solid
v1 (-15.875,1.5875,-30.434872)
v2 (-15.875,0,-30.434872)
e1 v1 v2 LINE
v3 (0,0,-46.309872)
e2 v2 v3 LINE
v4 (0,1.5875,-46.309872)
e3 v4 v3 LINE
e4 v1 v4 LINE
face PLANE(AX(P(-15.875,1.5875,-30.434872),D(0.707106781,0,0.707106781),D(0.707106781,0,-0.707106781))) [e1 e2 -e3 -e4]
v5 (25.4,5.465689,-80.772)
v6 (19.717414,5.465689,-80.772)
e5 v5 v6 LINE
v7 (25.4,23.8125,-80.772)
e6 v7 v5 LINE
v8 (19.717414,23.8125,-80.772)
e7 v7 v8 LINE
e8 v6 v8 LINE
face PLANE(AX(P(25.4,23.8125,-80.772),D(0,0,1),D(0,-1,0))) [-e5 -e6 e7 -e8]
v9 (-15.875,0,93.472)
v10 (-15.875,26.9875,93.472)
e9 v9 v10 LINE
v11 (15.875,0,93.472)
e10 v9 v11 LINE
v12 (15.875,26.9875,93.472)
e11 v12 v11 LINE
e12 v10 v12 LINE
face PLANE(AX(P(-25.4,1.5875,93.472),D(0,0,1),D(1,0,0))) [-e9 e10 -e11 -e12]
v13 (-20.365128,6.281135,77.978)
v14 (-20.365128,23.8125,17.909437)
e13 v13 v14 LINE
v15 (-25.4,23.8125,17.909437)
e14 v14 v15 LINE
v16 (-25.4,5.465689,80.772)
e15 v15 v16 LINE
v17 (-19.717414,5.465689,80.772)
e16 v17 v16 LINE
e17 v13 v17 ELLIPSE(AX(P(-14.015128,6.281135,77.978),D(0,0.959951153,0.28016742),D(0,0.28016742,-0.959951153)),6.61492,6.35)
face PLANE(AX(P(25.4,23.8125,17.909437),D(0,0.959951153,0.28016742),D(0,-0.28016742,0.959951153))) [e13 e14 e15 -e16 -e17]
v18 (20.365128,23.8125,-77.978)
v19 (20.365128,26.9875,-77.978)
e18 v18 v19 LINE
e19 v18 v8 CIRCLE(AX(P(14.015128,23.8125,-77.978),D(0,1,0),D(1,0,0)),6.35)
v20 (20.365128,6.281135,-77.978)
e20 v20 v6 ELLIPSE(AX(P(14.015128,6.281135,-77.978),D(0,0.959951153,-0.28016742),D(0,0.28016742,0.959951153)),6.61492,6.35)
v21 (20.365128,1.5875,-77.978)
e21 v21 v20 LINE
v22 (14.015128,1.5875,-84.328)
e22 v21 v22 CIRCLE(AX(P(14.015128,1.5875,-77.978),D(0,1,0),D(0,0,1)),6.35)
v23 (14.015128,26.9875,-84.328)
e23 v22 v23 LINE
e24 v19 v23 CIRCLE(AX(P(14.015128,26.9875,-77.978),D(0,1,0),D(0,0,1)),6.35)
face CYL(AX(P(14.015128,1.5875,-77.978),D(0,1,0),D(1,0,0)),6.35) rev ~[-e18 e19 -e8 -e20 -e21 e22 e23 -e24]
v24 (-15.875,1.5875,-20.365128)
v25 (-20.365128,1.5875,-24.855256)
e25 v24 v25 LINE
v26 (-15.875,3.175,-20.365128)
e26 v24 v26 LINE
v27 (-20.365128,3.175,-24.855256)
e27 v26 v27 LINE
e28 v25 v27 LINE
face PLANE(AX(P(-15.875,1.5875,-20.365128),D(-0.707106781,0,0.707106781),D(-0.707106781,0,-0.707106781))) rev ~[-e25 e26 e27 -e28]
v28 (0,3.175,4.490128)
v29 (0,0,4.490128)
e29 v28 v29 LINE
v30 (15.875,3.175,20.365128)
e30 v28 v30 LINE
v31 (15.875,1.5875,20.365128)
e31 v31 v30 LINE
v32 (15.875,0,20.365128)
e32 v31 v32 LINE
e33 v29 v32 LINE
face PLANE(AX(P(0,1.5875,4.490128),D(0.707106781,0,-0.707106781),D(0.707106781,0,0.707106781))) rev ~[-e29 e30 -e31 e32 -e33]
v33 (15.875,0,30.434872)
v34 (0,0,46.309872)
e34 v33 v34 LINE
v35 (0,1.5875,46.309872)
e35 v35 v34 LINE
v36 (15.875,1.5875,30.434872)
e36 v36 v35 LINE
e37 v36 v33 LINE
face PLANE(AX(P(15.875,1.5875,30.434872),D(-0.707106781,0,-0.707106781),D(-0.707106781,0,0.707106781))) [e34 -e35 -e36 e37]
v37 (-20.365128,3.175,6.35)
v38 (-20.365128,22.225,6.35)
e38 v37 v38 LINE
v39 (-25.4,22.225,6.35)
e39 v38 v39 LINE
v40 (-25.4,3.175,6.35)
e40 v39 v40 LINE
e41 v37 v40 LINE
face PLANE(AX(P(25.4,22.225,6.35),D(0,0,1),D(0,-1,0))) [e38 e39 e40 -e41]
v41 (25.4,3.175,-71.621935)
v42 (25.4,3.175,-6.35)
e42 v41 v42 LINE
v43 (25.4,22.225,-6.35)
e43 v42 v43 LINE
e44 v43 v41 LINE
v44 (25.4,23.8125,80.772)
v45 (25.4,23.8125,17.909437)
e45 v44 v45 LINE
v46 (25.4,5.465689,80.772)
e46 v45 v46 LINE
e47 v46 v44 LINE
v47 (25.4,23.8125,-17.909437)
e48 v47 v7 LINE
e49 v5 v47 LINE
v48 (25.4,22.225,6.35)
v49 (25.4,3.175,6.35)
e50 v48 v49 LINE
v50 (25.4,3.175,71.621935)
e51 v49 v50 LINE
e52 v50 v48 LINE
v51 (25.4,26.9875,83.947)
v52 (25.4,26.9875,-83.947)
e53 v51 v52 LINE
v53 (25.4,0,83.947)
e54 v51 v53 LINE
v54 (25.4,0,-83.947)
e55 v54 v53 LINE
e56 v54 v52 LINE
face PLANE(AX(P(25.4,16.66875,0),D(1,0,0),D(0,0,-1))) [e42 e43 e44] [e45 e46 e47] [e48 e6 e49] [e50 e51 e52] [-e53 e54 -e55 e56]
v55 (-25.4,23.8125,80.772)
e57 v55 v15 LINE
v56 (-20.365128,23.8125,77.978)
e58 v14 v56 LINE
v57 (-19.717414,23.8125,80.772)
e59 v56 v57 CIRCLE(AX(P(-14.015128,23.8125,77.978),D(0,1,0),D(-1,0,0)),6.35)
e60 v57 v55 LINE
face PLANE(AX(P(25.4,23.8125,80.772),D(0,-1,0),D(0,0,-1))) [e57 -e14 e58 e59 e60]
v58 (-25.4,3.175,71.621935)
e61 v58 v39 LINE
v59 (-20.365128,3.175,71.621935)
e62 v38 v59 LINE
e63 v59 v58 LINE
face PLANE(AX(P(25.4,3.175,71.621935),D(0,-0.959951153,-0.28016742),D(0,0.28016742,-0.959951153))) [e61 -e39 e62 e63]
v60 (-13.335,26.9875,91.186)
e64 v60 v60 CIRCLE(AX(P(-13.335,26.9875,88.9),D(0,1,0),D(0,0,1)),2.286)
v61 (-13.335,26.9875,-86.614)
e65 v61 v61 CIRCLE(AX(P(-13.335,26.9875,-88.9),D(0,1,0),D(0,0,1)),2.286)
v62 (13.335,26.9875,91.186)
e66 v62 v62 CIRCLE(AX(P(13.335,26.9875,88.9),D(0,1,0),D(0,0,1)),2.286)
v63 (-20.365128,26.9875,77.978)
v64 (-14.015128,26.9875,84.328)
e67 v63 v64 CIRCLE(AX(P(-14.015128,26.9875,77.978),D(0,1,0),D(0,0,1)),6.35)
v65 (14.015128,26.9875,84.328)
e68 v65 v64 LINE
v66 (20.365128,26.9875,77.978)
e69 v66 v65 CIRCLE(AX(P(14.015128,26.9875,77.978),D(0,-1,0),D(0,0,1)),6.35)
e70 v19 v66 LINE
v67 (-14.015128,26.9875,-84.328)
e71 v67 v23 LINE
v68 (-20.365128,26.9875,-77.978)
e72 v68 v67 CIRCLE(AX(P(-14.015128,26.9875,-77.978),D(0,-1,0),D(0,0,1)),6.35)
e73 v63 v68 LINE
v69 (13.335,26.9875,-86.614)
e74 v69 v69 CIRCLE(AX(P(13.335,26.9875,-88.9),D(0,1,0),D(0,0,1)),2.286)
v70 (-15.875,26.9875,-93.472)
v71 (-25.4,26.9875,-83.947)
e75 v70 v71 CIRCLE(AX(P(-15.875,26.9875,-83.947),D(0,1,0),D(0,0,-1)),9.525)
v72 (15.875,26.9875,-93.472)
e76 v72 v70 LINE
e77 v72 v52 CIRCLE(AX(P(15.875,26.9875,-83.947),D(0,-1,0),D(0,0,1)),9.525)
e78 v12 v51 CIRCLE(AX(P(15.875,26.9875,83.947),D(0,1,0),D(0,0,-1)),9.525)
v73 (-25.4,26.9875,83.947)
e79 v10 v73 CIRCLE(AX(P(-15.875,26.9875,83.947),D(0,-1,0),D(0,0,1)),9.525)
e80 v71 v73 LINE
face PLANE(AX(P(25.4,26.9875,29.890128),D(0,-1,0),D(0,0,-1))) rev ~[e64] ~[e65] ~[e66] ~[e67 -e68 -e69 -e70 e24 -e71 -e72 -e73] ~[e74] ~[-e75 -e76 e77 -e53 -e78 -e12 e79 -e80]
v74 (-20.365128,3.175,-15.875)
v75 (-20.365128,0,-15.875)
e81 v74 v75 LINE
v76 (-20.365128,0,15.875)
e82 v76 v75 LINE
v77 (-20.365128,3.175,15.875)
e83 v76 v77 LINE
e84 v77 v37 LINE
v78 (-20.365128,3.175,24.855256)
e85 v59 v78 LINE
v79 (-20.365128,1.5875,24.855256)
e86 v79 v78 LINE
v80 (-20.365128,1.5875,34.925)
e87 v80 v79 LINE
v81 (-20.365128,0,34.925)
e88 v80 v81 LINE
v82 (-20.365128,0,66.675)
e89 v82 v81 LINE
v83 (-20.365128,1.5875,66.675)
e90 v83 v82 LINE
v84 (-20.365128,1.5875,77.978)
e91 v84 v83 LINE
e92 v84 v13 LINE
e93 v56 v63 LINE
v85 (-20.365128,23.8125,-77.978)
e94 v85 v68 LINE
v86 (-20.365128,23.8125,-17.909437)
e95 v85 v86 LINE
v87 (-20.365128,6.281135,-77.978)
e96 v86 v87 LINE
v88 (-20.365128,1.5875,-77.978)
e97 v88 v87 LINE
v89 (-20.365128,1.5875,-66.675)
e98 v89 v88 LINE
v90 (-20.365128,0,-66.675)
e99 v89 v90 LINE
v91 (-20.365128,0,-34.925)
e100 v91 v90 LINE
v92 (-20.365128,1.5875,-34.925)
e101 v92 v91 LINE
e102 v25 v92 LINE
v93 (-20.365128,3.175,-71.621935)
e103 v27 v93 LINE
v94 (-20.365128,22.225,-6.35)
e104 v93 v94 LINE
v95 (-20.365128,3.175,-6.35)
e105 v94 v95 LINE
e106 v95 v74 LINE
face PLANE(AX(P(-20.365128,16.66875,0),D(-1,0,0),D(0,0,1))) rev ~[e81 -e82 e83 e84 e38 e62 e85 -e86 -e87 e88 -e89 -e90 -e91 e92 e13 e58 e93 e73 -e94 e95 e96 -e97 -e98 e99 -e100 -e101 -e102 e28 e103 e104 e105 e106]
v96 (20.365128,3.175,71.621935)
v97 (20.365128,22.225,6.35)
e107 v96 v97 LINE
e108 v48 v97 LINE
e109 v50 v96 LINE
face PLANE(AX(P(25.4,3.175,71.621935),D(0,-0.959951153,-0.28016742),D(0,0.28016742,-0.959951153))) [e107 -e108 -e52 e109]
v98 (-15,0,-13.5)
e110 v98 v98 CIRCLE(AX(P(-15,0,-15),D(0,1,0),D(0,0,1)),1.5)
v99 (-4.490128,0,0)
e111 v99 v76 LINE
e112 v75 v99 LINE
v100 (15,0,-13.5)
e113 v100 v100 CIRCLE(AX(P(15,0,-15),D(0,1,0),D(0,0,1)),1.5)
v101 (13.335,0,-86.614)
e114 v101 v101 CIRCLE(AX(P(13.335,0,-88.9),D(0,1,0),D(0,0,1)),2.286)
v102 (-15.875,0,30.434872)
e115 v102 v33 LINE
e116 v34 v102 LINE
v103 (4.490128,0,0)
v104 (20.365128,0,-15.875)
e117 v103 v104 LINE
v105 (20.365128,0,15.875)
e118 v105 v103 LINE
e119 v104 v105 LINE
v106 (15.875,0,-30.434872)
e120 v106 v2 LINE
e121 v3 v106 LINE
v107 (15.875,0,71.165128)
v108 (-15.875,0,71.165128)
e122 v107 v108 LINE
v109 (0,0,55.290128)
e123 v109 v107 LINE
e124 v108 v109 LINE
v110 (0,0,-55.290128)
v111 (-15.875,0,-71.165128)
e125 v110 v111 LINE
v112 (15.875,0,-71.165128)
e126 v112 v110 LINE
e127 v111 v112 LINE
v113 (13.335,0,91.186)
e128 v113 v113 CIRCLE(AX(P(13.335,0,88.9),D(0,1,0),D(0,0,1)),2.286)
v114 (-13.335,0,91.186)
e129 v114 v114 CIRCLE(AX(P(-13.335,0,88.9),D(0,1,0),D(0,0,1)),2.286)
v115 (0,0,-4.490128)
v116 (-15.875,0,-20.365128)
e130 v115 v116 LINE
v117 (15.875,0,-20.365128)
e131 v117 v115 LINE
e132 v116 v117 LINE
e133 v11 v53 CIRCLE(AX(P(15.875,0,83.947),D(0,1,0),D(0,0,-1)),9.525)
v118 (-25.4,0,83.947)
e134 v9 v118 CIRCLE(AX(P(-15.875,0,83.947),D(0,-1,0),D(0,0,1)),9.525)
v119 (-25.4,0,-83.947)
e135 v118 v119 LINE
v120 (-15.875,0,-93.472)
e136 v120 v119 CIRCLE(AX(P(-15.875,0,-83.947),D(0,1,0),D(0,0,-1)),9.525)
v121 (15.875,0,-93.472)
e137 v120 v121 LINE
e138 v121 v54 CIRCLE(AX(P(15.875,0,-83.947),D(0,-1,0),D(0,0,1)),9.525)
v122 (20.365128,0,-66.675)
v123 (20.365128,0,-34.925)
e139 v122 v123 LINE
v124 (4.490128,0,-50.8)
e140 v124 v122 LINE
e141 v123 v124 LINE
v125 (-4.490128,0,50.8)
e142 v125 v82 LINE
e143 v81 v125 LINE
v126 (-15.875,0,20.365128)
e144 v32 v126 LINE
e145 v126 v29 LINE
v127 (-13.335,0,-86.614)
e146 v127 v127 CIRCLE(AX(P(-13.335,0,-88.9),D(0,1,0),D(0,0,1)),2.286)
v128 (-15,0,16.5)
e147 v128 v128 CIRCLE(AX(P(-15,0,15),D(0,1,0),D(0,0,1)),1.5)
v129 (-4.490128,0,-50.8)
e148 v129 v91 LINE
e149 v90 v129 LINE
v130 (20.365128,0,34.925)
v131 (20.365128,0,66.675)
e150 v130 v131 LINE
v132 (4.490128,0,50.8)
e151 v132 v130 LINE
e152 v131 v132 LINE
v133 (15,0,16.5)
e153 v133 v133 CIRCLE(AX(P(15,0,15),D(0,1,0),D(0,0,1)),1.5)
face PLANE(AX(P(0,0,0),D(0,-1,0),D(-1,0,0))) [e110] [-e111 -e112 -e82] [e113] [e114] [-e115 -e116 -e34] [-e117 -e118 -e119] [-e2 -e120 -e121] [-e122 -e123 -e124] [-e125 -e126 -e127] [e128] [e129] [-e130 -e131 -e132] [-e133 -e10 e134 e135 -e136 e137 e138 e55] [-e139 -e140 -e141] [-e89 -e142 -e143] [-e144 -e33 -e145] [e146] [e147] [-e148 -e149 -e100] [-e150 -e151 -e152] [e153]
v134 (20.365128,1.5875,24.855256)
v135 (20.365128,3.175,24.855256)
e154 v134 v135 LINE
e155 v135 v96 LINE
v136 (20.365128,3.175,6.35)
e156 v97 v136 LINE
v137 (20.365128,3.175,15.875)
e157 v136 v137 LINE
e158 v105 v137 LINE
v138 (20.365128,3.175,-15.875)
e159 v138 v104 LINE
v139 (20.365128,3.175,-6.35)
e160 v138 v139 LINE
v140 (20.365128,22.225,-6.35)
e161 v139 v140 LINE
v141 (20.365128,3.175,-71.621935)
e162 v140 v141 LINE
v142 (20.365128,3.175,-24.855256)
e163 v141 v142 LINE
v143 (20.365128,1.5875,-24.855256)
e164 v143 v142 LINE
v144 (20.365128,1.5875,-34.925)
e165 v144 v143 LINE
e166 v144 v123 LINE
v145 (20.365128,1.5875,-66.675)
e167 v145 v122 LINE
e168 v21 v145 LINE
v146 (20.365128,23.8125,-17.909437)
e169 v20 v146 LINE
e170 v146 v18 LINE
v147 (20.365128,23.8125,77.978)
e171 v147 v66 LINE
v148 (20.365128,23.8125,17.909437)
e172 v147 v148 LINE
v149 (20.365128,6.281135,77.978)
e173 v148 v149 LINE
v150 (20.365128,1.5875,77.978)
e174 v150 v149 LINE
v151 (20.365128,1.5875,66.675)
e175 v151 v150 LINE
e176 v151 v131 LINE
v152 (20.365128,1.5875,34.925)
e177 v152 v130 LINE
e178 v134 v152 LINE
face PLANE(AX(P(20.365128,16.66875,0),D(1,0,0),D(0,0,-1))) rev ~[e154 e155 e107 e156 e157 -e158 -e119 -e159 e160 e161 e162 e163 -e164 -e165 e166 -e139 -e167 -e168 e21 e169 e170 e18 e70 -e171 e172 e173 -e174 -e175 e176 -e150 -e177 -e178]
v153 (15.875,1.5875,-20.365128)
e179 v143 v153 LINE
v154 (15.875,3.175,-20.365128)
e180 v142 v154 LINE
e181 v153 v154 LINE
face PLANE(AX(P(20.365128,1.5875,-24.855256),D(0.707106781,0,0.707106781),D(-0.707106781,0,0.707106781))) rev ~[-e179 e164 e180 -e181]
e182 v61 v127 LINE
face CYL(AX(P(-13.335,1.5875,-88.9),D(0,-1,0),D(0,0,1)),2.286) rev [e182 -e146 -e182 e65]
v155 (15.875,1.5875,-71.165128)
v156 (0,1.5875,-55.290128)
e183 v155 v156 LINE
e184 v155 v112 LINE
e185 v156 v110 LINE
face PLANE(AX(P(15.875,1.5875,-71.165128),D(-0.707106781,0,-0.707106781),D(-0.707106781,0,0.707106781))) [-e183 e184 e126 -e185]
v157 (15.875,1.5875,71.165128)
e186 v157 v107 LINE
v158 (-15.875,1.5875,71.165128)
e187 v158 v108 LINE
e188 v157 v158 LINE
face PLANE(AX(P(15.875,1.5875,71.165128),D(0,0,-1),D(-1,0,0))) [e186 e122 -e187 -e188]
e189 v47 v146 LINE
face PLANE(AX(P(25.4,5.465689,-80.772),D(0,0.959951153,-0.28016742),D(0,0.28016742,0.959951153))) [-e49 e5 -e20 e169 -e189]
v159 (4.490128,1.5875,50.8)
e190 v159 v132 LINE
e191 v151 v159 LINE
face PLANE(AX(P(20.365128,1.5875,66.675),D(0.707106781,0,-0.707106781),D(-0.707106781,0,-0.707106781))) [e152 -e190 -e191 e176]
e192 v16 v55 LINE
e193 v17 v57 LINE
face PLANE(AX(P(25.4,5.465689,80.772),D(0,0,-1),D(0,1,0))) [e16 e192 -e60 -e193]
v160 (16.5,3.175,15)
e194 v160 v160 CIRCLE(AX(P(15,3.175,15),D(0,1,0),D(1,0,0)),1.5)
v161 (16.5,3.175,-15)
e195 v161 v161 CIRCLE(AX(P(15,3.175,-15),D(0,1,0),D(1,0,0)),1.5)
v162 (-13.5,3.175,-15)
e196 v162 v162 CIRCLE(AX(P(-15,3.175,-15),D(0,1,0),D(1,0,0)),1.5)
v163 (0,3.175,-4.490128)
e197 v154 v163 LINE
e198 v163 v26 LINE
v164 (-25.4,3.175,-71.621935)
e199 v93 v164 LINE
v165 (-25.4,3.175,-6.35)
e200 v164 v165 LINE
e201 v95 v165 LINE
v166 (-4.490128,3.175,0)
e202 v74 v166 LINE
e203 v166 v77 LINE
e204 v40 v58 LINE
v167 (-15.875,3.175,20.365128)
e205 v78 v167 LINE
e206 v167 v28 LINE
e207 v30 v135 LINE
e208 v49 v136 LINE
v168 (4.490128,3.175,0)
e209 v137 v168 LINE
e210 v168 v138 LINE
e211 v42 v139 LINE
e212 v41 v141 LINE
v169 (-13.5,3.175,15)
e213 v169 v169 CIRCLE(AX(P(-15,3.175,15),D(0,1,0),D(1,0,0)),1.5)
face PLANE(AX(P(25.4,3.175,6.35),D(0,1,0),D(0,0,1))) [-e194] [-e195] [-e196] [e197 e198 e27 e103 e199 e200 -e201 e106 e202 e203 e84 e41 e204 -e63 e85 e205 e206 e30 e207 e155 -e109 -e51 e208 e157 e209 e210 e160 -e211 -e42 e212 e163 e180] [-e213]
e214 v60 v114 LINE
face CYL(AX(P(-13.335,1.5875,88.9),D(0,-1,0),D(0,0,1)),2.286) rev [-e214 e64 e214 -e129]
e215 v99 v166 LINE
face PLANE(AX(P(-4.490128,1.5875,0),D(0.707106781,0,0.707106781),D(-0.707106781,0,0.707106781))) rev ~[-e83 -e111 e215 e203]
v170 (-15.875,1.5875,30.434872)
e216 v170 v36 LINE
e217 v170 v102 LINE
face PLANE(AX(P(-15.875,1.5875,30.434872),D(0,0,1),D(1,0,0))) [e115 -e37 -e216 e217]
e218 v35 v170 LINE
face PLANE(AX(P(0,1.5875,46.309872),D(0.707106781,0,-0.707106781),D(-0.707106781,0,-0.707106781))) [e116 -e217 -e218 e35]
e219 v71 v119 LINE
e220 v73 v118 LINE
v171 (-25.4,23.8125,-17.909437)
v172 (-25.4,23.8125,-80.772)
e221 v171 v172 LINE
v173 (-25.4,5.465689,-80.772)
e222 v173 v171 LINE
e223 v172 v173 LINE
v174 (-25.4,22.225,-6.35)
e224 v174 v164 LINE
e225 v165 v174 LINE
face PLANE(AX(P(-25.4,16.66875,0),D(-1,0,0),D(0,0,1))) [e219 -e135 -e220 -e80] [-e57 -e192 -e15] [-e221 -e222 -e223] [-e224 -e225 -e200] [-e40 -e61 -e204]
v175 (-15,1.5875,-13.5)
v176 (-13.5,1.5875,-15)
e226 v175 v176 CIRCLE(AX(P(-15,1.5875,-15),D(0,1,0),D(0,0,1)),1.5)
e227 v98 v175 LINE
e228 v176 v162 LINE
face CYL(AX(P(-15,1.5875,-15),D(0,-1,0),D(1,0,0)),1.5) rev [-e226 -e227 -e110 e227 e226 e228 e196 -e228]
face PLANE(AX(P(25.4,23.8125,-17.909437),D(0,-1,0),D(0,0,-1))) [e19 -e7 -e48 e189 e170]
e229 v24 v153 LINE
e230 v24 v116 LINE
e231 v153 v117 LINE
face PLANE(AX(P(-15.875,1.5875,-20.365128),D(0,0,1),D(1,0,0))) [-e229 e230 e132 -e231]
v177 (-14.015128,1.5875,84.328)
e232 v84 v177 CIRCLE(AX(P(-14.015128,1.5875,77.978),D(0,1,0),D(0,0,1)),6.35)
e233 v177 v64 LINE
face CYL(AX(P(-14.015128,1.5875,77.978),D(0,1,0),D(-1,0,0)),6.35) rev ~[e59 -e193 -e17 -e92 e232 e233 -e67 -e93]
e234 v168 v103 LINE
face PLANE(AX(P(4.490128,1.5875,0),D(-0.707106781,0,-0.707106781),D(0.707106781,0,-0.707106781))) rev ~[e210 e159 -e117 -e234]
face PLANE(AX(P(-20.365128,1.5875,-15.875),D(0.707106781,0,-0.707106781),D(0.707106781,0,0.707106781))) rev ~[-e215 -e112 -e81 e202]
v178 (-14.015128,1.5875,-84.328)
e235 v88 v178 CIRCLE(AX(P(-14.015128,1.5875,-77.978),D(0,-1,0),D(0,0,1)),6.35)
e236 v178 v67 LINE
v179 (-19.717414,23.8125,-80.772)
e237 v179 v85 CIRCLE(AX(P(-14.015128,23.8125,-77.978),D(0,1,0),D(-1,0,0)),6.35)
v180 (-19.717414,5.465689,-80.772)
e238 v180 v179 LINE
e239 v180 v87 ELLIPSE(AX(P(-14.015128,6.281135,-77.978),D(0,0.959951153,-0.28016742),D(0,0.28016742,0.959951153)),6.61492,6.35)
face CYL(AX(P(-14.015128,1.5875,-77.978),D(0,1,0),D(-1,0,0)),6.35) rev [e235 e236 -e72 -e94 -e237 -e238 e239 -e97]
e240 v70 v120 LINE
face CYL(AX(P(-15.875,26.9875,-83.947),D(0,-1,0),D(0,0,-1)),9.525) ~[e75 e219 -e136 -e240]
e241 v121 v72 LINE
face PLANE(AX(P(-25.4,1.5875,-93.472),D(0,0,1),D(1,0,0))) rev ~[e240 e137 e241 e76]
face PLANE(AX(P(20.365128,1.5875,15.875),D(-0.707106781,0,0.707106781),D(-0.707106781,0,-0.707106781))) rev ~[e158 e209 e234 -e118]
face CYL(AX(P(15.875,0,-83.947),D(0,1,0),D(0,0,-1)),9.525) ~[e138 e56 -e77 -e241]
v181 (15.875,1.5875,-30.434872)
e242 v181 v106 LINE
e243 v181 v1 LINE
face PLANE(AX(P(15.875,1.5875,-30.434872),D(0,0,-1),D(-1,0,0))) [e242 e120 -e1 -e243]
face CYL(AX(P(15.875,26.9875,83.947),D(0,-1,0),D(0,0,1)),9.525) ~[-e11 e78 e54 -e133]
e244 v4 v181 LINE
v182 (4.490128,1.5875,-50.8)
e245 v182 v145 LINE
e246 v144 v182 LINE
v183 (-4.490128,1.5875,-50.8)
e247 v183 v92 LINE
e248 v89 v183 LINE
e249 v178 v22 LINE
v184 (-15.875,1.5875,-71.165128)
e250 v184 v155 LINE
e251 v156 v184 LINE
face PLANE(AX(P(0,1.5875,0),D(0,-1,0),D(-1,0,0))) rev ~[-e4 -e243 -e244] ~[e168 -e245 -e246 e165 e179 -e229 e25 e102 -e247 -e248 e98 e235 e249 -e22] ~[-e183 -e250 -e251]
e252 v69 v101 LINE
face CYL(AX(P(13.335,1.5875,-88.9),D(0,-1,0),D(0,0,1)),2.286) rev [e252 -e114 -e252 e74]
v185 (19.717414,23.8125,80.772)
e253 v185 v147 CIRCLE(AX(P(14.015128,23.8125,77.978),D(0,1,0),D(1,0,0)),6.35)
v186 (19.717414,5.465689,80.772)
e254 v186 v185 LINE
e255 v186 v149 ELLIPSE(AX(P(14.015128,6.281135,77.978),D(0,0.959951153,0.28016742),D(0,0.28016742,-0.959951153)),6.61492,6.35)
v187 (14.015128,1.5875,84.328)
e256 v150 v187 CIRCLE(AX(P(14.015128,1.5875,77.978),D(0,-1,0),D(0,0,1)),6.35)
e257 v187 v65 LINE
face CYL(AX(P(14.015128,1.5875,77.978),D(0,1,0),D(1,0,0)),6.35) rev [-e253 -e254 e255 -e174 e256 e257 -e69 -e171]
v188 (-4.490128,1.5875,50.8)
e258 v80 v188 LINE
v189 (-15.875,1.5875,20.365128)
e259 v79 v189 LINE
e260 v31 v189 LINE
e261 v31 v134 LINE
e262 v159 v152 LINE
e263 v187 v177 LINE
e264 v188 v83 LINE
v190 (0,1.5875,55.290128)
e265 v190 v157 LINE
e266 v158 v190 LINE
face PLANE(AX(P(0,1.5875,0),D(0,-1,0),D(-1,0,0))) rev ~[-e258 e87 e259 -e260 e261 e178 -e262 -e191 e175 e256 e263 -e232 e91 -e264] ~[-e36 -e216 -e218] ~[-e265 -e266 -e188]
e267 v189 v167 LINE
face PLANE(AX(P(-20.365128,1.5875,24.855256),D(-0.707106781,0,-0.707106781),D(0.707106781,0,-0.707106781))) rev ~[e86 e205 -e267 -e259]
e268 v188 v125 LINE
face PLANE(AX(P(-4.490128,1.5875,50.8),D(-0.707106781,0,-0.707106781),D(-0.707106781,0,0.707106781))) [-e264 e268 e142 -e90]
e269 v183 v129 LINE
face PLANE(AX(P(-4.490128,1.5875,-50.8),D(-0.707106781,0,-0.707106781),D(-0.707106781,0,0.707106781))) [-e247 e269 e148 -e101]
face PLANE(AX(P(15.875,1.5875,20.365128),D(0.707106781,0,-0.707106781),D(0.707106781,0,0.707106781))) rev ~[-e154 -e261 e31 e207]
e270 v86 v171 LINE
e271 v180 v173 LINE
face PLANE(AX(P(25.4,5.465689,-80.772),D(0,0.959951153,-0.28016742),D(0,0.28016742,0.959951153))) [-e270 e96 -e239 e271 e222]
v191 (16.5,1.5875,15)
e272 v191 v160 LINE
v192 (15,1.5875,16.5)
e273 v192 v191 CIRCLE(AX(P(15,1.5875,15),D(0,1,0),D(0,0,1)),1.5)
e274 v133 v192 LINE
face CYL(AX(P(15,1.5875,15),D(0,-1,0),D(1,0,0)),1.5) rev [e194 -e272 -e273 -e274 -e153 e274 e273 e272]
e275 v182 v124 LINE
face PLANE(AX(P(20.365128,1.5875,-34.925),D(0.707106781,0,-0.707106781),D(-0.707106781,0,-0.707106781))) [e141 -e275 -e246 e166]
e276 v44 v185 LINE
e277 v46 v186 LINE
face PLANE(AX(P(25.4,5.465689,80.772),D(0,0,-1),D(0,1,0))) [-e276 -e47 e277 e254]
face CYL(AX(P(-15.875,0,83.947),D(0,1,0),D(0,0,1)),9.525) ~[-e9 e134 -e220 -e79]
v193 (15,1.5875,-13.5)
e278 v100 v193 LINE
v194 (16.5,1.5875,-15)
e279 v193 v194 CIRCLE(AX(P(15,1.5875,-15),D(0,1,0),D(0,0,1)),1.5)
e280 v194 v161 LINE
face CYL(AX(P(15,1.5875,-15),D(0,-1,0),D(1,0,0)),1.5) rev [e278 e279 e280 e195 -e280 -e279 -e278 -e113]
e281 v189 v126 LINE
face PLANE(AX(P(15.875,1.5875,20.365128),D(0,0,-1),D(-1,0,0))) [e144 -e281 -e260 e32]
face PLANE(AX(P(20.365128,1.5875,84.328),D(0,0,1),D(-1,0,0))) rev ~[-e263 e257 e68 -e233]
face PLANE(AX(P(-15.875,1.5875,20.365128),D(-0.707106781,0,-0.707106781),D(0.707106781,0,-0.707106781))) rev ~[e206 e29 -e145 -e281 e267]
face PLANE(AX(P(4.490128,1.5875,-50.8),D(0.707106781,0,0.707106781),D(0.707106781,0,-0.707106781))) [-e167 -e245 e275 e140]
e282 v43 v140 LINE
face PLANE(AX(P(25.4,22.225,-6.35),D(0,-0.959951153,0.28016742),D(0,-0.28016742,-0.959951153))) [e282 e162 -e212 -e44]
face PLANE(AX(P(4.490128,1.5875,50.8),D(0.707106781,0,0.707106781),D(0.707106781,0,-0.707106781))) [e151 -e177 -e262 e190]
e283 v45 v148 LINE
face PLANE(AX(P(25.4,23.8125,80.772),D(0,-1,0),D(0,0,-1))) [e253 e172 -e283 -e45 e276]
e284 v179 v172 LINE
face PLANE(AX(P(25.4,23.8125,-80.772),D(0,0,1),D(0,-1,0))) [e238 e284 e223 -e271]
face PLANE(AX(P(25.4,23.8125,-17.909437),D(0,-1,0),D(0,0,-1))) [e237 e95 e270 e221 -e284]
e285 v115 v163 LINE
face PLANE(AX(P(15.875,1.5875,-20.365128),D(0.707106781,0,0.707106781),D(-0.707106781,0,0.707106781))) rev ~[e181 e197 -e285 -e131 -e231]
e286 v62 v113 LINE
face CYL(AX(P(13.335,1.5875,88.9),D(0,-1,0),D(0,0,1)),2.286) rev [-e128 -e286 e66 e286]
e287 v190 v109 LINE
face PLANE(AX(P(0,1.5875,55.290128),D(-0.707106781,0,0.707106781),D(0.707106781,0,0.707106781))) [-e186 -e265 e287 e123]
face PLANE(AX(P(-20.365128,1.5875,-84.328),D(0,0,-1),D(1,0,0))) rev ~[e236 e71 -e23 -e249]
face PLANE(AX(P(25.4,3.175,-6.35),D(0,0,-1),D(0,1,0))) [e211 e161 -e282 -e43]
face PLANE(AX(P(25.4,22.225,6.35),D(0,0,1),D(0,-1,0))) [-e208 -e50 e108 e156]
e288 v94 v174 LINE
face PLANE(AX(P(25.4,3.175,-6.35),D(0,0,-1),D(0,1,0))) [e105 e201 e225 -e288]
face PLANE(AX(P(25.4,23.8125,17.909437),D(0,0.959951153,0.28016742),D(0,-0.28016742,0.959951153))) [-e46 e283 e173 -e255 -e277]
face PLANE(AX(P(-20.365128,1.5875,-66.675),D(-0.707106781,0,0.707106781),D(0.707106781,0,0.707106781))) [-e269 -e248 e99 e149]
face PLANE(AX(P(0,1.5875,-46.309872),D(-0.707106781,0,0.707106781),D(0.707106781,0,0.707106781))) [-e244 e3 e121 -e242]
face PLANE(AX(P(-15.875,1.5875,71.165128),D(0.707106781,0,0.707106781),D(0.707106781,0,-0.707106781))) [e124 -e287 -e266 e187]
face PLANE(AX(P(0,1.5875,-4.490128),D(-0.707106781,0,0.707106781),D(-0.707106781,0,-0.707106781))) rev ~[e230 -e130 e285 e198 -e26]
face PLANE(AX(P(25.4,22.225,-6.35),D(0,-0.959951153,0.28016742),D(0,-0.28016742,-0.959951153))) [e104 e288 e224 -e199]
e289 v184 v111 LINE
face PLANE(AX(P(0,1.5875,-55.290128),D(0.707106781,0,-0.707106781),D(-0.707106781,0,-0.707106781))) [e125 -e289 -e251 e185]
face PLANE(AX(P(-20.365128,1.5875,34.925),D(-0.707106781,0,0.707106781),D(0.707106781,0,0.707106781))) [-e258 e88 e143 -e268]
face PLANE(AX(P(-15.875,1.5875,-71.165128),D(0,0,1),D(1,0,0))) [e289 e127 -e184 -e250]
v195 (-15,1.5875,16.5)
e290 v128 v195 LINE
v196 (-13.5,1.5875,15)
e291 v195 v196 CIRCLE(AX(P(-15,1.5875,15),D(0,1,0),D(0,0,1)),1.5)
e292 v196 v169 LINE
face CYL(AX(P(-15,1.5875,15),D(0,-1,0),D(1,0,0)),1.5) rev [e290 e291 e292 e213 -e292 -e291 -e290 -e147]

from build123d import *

# Parameters (mm, degrees)
SKETCH1_R            = 2.286
SKETCH1_R_2          = 1.5
BOSS_EXTRUDE1_DEPTH  = 1.5875
CUT_EXTRUDE1_REACH   = 145.693
SKETCH4_R            = 2.286
BOSS_EXTRUDE4_DEPTH  = 25.4
SKETCH16_R           = 1.5
BOSS_EXTRUDE6_DEPTH  = 1.5875
CUT_EXTRUDE13_DEPTH  = 23.8125
CUT_EXTRUDE15_REACH  = 166.863
CUT_EXTRUDE17_REACH  = 147.912
SKETCH20_W           = 50.8
SKETCH20_H           = 8.128
SKETCH20_W_2         = 8.128
SKETCH20_H_2         = 50.8
FILLET2_R            = 9.525
FILLET3_R            = 6.35
CUT_EXTRUDE18_DEPTH  = 118.872
BOSS_EXTRUDE7_DEPTH  = 1.5875
SKETCH23_W           = 5.034871939
SKETCH23_H           = 59.780256122
BOSS_EXTRUDE8_DEPTH  = 3.175
SKETCH24_W           = 59.780256122
SKETCH24_H           = 20.6375
BOSS_EXTRUDE9_DEPTH  = 5.034871939
SKETCH25_W           = 59.780256122
SKETCH25_H           = 20.6375
BOSS_EXTRUDE10_DEPTH = 5.034871939
CUT_EXTRUDE21_START  = -50.8
CUT_EXTRUDE21_DEPTH  = 50.8


with BuildPart() as part:
    # Sketch1 → Boss-Extrude1 (new body)
    with BuildSketch(Plane(origin=(0, 0, 0), x_dir=(1, 0, 0), z_dir=(0, 1, 0))):
        Polygon((-25.4, 101.6), (25.4, 101.6), (25.4, 25.4), (101.6, 25.4), (101.6, -25.4), (25.4, -25.4), (25.4, -101.6), (-25.4, -101.6), (-25.4, -25.4), (-101.6, -25.4), (-101.6, 25.4), (-25.4, 25.4), align=None)
        with Locations(Location((-13.335, 88.9, 0), (0, 0, 270))):
            Circle(SKETCH1_R, mode=Mode.SUBTRACT)
        with Locations(Location((13.335, 88.9, 0), (0, 0, 270))):
            Circle(SKETCH1_R, mode=Mode.SUBTRACT)
        with Locations(Location((-13.335, -88.9, 0), (0, 0, 270))):
            Circle(SKETCH1_R, mode=Mode.SUBTRACT)
        with Locations(Location((13.335, -88.9, 0), (0, 0, 270))):
            Circle(SKETCH1_R, mode=Mode.SUBTRACT)
        with Locations(Location((88.9, -13.335, 0), (0, 0, 270))):
            Circle(SKETCH1_R, mode=Mode.SUBTRACT)
        with Locations(Location((88.9, 13.335, 0), (0, 0, 270))):
            Circle(SKETCH1_R, mode=Mode.SUBTRACT)
        with Locations(Location((-88.9, 13.335, 0), (0, 0, 270))):
            Circle(SKETCH1_R, mode=Mode.SUBTRACT)
        with Locations(Location((-88.9, -13.335, 0), (0, 0, 270))):
            Circle(SKETCH1_R, mode=Mode.SUBTRACT)
        with Locations(Location((-15, 15, 0), (0, 0, 270))):
            Circle(SKETCH1_R_2, mode=Mode.SUBTRACT)
        with Locations(Location((15, 15, 0), (0, 0, 270))):
            Circle(SKETCH1_R_2, mode=Mode.SUBTRACT)
        with Locations(Location((15, -15, 0), (0, 0, 270))):
            Circle(SKETCH1_R_2, mode=Mode.SUBTRACT)
        with Locations(Location((-15, -15, 0), (0, 0, 270))):
            Circle(SKETCH1_R_2, mode=Mode.SUBTRACT)
    extrude(amount=BOSS_EXTRUDE1_DEPTH)

    # Sketch3 → Cut-Extrude1 (cut, up to next)
    with BuildSketch(Plane(origin=(0, 1.5875, 0), x_dir=(1, 0, 0), z_dir=(0, 1, 0)), mode=Mode.PRIVATE) as cut_extrude1_sk1:
        Polygon((15.875, 71.165128061), (0, 55.290128061), (-15.875, 71.165128061), align=None)
    cut_extrude1_tool1 = extrude(cut_extrude1_sk1.sketch, amount=-CUT_EXTRUDE1_REACH, mode=Mode.PRIVATE) & part.part
    # Sketch3 → Cut-Extrude1 (cut, up to next)
    with BuildSketch(Plane(origin=(0, 1.5875, 0), x_dir=(1, 0, 0), z_dir=(0, 1, 0)), mode=Mode.PRIVATE) as cut_extrude1_sk2:
        Polygon((-20.365128061, 66.675), (-4.490128061, 50.8), (-20.365128061, 34.925), align=None)
    cut_extrude1_tool2 = extrude(cut_extrude1_sk2.sketch, amount=-CUT_EXTRUDE1_REACH, mode=Mode.PRIVATE) & part.part
    # Sketch3 → Cut-Extrude1 (cut, up to next)
    with BuildSketch(Plane(origin=(0, 1.5875, 0), x_dir=(1, 0, 0), z_dir=(0, 1, 0)), mode=Mode.PRIVATE) as cut_extrude1_sk3:
        Polygon((-15.875, 30.434871939), (0, 46.309871939), (15.875, 30.434871939), align=None)
    cut_extrude1_tool3 = extrude(cut_extrude1_sk3.sketch, amount=-CUT_EXTRUDE1_REACH, mode=Mode.PRIVATE) & part.part
    # Sketch3 → Cut-Extrude1 (cut, up to next)
    with BuildSketch(Plane(origin=(0, 1.5875, 0), x_dir=(1, 0, 0), z_dir=(0, 1, 0)), mode=Mode.PRIVATE) as cut_extrude1_sk4:
        Polygon((20.365128061, 34.925), (4.490128061, 50.8), (20.365128061, 66.675), align=None)
    cut_extrude1_tool4 = extrude(cut_extrude1_sk4.sketch, amount=-CUT_EXTRUDE1_REACH, mode=Mode.PRIVATE) & part.part
    # Sketch3 → Cut-Extrude1 (cut, up to next)
    with BuildSketch(Plane(origin=(0, 1.5875, 0), x_dir=(1, 0, 0), z_dir=(0, 1, 0)), mode=Mode.PRIVATE) as cut_extrude1_sk5:
        Polygon((-34.925, 20.365128061), (-50.8, 4.490128061), (-66.675, 20.365128061), align=None)
    cut_extrude1_tool5 = extrude(cut_extrude1_sk5.sketch, amount=-CUT_EXTRUDE1_REACH, mode=Mode.PRIVATE) & part.part
    # Sketch3 → Cut-Extrude1 (cut, up to next)
    with BuildSketch(Plane(origin=(0, 1.5875, 0), x_dir=(1, 0, 0), z_dir=(0, 1, 0)), mode=Mode.PRIVATE) as cut_extrude1_sk6:
        Polygon((-71.165128061, 15.875), (-55.290128061, 0), (-71.165128061, -15.875), align=None)
    cut_extrude1_tool6 = extrude(cut_extrude1_sk6.sketch, amount=-CUT_EXTRUDE1_REACH, mode=Mode.PRIVATE) & part.part
    # Sketch3 → Cut-Extrude1 (cut, up to next)
    with BuildSketch(Plane(origin=(0, 1.5875, 0), x_dir=(1, 0, 0), z_dir=(0, 1, 0)), mode=Mode.PRIVATE) as cut_extrude1_sk7:
        Polygon((-66.675, -20.365128061), (-50.8, -4.490128061), (-34.925, -20.365128061), align=None)
    cut_extrude1_tool7 = extrude(cut_extrude1_sk7.sketch, amount=-CUT_EXTRUDE1_REACH, mode=Mode.PRIVATE) & part.part
    # Sketch3 → Cut-Extrude1 (cut, up to next)
    with BuildSketch(Plane(origin=(0, 1.5875, 0), x_dir=(1, 0, 0), z_dir=(0, 1, 0)), mode=Mode.PRIVATE) as cut_extrude1_sk8:
        Polygon((-30.434871939, -15.875), (-46.309871939, 0), (-30.434871939, 15.875), align=None)
    cut_extrude1_tool8 = extrude(cut_extrude1_sk8.sketch, amount=-CUT_EXTRUDE1_REACH, mode=Mode.PRIVATE) & part.part
    # Sketch3 → Cut-Extrude1 (cut, up to next)
    with BuildSketch(Plane(origin=(0, 1.5875, 0), x_dir=(1, 0, 0), z_dir=(0, 1, 0)), mode=Mode.PRIVATE) as cut_extrude1_sk9:
        Polygon((30.434871939, 15.875), (46.309871939, 0), (30.434871939, -15.875), align=None)
    cut_extrude1_tool9 = extrude(cut_extrude1_sk9.sketch, amount=-CUT_EXTRUDE1_REACH, mode=Mode.PRIVATE) & part.part
    # Sketch3 → Cut-Extrude1 (cut, up to next)
    with BuildSketch(Plane(origin=(0, 1.5875, 0), x_dir=(1, 0, 0), z_dir=(0, 1, 0)), mode=Mode.PRIVATE) as cut_extrude1_sk10:
        Polygon((66.675, 20.365128061), (50.8, 4.490128061), (34.925, 20.365128061), align=None)
    cut_extrude1_tool10 = extrude(cut_extrude1_sk10.sketch, amount=-CUT_EXTRUDE1_REACH, mode=Mode.PRIVATE) & part.part
    # Sketch3 → Cut-Extrude1 (cut, up to next)
    with BuildSketch(Plane(origin=(0, 1.5875, 0), x_dir=(1, 0, 0), z_dir=(0, 1, 0)), mode=Mode.PRIVATE) as cut_extrude1_sk11:
        Polygon((71.165128061, -15.875), (55.290128061, 0), (71.165128061, 15.875), align=None)
    cut_extrude1_tool11 = extrude(cut_extrude1_sk11.sketch, amount=-CUT_EXTRUDE1_REACH, mode=Mode.PRIVATE) & part.part
    # Sketch3 → Cut-Extrude1 (cut, up to next)
    with BuildSketch(Plane(origin=(0, 1.5875, 0), x_dir=(1, 0, 0), z_dir=(0, 1, 0)), mode=Mode.PRIVATE) as cut_extrude1_sk12:
        Polygon((34.925, -20.365128061), (50.8, -4.490128061), (66.675, -20.365128061), align=None)
    cut_extrude1_tool12 = extrude(cut_extrude1_sk12.sketch, amount=-CUT_EXTRUDE1_REACH, mode=Mode.PRIVATE) & part.part
    # Sketch3 → Cut-Extrude1 (cut, up to next)
    with BuildSketch(Plane(origin=(0, 1.5875, 0), x_dir=(1, 0, 0), z_dir=(0, 1, 0)), mode=Mode.PRIVATE) as cut_extrude1_sk13:
        Polygon((15.875, -30.434871939), (0, -46.309871939), (-15.875, -30.434871939), align=None)
    cut_extrude1_tool13 = extrude(cut_extrude1_sk13.sketch, amount=-CUT_EXTRUDE1_REACH, mode=Mode.PRIVATE) & part.part
    # Sketch3 → Cut-Extrude1 (cut, up to next)
    with BuildSketch(Plane(origin=(0, 1.5875, 0), x_dir=(1, 0, 0), z_dir=(0, 1, 0)), mode=Mode.PRIVATE) as cut_extrude1_sk14:
        Polygon((-20.365128061, -34.925), (-4.490128061, -50.8), (-20.365128061, -66.675), align=None)
    cut_extrude1_tool14 = extrude(cut_extrude1_sk14.sketch, amount=-CUT_EXTRUDE1_REACH, mode=Mode.PRIVATE) & part.part
    # Sketch3 → Cut-Extrude1 (cut, up to next)
    with BuildSketch(Plane(origin=(0, 1.5875, 0), x_dir=(1, 0, 0), z_dir=(0, 1, 0)), mode=Mode.PRIVATE) as cut_extrude1_sk15:
        Polygon((20.365128061, -66.675), (4.490128061, -50.8), (20.365128061, -34.925), align=None)
    cut_extrude1_tool15 = extrude(cut_extrude1_sk15.sketch, amount=-CUT_EXTRUDE1_REACH, mode=Mode.PRIVATE) & part.part
    # Sketch3 → Cut-Extrude1 (cut, up to next)
    with BuildSketch(Plane(origin=(0, 1.5875, 0), x_dir=(1, 0, 0), z_dir=(0, 1, 0)), mode=Mode.PRIVATE) as cut_extrude1_sk16:
        Polygon((-15.875, -71.165128061), (0, -55.290128061), (15.875, -71.165128061), align=None)
    cut_extrude1_tool16 = extrude(cut_extrude1_sk16.sketch, amount=-CUT_EXTRUDE1_REACH, mode=Mode.PRIVATE) & part.part
    # Sketch3 → Cut-Extrude1 (cut, up to next)
    with BuildSketch(Plane(origin=(0, 1.5875, 0), x_dir=(1, 0, 0), z_dir=(0, 1, 0)), mode=Mode.PRIVATE) as cut_extrude1_sk17:
        Polygon((0, 4.490128061), (-15.875, 20.365128061), (15.875, 20.365128061), align=None)
    cut_extrude1_tool17 = extrude(cut_extrude1_sk17.sketch, amount=-CUT_EXTRUDE1_REACH, mode=Mode.PRIVATE) & part.part
    # Sketch3 → Cut-Extrude1 (cut, up to next)
    with BuildSketch(Plane(origin=(0, 1.5875, 0), x_dir=(1, 0, 0), z_dir=(0, 1, 0)), mode=Mode.PRIVATE) as cut_extrude1_sk18:
        Polygon((-4.490128061, 0), (-20.365128061, -15.875), (-20.365128061, 15.875), align=None)
    cut_extrude1_tool18 = extrude(cut_extrude1_sk18.sketch, amount=-CUT_EXTRUDE1_REACH, mode=Mode.PRIVATE) & part.part
    # Sketch3 → Cut-Extrude1 (cut, up to next)
    with BuildSketch(Plane(origin=(0, 1.5875, 0), x_dir=(1, 0, 0), z_dir=(0, 1, 0)), mode=Mode.PRIVATE) as cut_extrude1_sk19:
        Polygon((-15.875, -20.365128061), (0, -4.490128061), (15.875, -20.365128061), align=None)
    cut_extrude1_tool19 = extrude(cut_extrude1_sk19.sketch, amount=-CUT_EXTRUDE1_REACH, mode=Mode.PRIVATE) & part.part
    # Sketch3 → Cut-Extrude1 (cut, up to next)
    with BuildSketch(Plane(origin=(0, 1.5875, 0), x_dir=(1, 0, 0), z_dir=(0, 1, 0)), mode=Mode.PRIVATE) as cut_extrude1_sk20:
        Polygon((20.365128061, 15.875), (20.365128061, -15.875), (4.490128061, 0), align=None)
    cut_extrude1_tool20 = extrude(cut_extrude1_sk20.sketch, amount=-CUT_EXTRUDE1_REACH, mode=Mode.PRIVATE) & part.part
    add(cut_extrude1_tool1.solids().sort_by_distance((0, 1.5875, -65.873461))[0], mode=Mode.SUBTRACT)
    add(cut_extrude1_tool2.solids().sort_by_distance((-15.073461, 1.5875, -50.8))[0], mode=Mode.SUBTRACT)
    add(cut_extrude1_tool3.solids().sort_by_distance((0, 1.5875, -35.726539))[0], mode=Mode.SUBTRACT)
    add(cut_extrude1_tool4.solids().sort_by_distance((15.073461, 1.5875, -50.8))[0], mode=Mode.SUBTRACT)
    add(cut_extrude1_tool5.solids().sort_by_distance((-50.8, 1.5875, -15.073461))[0], mode=Mode.SUBTRACT)
    add(cut_extrude1_tool6.solids().sort_by_distance((-65.873461, 1.5875, 0))[0], mode=Mode.SUBTRACT)
    add(cut_extrude1_tool7.solids().sort_by_distance((-50.8, 1.5875, 15.073461))[0], mode=Mode.SUBTRACT)
    add(cut_extrude1_tool8.solids().sort_by_distance((-35.726539, 1.5875, 0))[0], mode=Mode.SUBTRACT)
    add(cut_extrude1_tool9.solids().sort_by_distance((35.726539, 1.5875, 0))[0], mode=Mode.SUBTRACT)
    add(cut_extrude1_tool10.solids().sort_by_distance((50.8, 1.5875, -15.073461))[0], mode=Mode.SUBTRACT)
    add(cut_extrude1_tool11.solids().sort_by_distance((65.873461, 1.5875, 0))[0], mode=Mode.SUBTRACT)
    add(cut_extrude1_tool12.solids().sort_by_distance((50.8, 1.5875, 15.073461))[0], mode=Mode.SUBTRACT)
    add(cut_extrude1_tool13.solids().sort_by_distance((0, 1.5875, 35.726539))[0], mode=Mode.SUBTRACT)
    add(cut_extrude1_tool14.solids().sort_by_distance((-15.073461, 1.5875, 50.8))[0], mode=Mode.SUBTRACT)
    add(cut_extrude1_tool15.solids().sort_by_distance((15.073461, 1.5875, 50.8))[0], mode=Mode.SUBTRACT)
    add(cut_extrude1_tool16.solids().sort_by_distance((0, 1.5875, 65.873461))[0], mode=Mode.SUBTRACT)
    add(cut_extrude1_tool17.solids().sort_by_distance((0, 1.5875, -15.073461))[0], mode=Mode.SUBTRACT)
    add(cut_extrude1_tool18.solids().sort_by_distance((-15.073461, 1.5875, 0))[0], mode=Mode.SUBTRACT)
    add(cut_extrude1_tool19.solids().sort_by_distance((0, 1.5875, 15.073461))[0], mode=Mode.SUBTRACT)
    add(cut_extrude1_tool20.solids().sort_by_distance((15.073461, 1.5875, 0))[0], mode=Mode.SUBTRACT)

    # Sketch4 → Boss-Extrude4 (add)
    with BuildSketch(Plane(origin=(0, 1.5875, 0), x_dir=(1, 0, 0), z_dir=(0, 1, 0))):
        Polygon((-93.472, 25.4), (-93.472, 13.335), (-93.472, -13.335), (-93.472, -25.4), (-84.328, -25.4), (-25.4, -25.4), (-25.4, -84.328), (-25.4, -93.472), (-13.335, -93.472), (13.335, -93.472), (25.4, -93.472), (25.4, -84.328), (25.4, -25.4), (84.328, -25.4), (93.472, -25.4), (93.472, -13.335), (93.472, 13.335), (93.472, 25.4), (84.328, 25.4), (25.4, 25.4), (25.4, 84.328), (25.4, 93.472), (13.335, 93.472), (-13.335, 93.472), (-25.4, 93.472), (-25.4, 84.328), (-25.4, 25.4), (-84.328, 25.4), align=None)
        with Locations(Location((-13.335, -88.9, 0), (0, 0, 270))):
            Circle(SKETCH4_R, mode=Mode.SUBTRACT)
        with Locations(Location((-88.9, -13.335, 0), (0, 0, 270))):
            Circle(SKETCH4_R, mode=Mode.SUBTRACT)
        with Locations(Location((13.335, -88.9, 0), (0, 0, 270))):
            Circle(SKETCH4_R, mode=Mode.SUBTRACT)
        with Locations(Location((88.9, -13.335, 0), (0, 0, 270))):
            Circle(SKETCH4_R, mode=Mode.SUBTRACT)
        with Locations(Location((-88.9, 13.335, 0), (0, 0, 270))):
            Circle(SKETCH4_R, mode=Mode.SUBTRACT)
        with Locations(Location((-13.335, 88.9, 0), (0, 0, 270))):
            Circle(SKETCH4_R, mode=Mode.SUBTRACT)
        Polygon((84.328, 20.365128061), (84.328, 13.335), (84.328, -13.335), (84.328, -20.365128061), (66.675, -20.365128061), (34.925, -20.365128061), (25.4, -20.365128061), (20.365128061, -20.365128061), (20.365128061, -25.4), (20.365128061, -34.925), (20.365128061, -66.675), (20.365128061, -84.328), (13.335, -84.328), (-13.335, -84.328), (-20.365128061, -84.328), (-20.365128061, -66.675), (-20.365128061, -34.925), (-20.365128061, -25.4), (-20.365128061, -20.365128061), (-25.4, -20.365128061), (-34.925, -20.365128061), (-66.675, -20.365128061), (-84.328, -20.365128061), (-84.328, -13.335), (-84.328, 13.335), (-84.328, 20.365128061), (-66.675, 20.365128061), (-34.925, 20.365128061), (-25.4, 20.365128061), (-20.365128061, 20.365128061), (-20.365128061, 25.4), (-20.365128061, 34.925), (-20.365128061, 66.675), (-20.365128061, 84.328), (-13.335, 84.328), (13.335, 84.328), (20.365128061, 84.328), (20.365128061, 66.675), (20.365128061, 34.925), (20.365128061, 25.4), (20.365128061, 20.365128061), (25.4, 20.365128061), (34.925, 20.365128061), (66.675, 20.365128061), align=None, mode=Mode.SUBTRACT)
        with Locations(Location((88.9, 13.335, 0), (0, 0, 270))):
            Circle(SKETCH4_R, mode=Mode.SUBTRACT)
        with Locations(Location((13.335, 88.9, 0), (0, 0, 270))):
            Circle(SKETCH4_R, mode=Mode.SUBTRACT)
    extrude(amount=BOSS_EXTRUDE4_DEPTH)

    # Sketch16 → Boss-Extrude6 (add)
    with BuildSketch(Plane(origin=(0, 1.5875, 0), x_dir=(1, 0, 0), z_dir=(0, 1, 0))):
        Polygon((20.365128061, 24.855256121), (15.875, 20.365128061), (0, 4.490128061), (-15.875, 20.365128061), (-20.365128061, 24.855256121), (-20.365128061, 20.365128061), (-24.855256121, 20.365128061), (-20.365128061, 15.875), (-4.490128061, 0), (-20.365128061, -15.875), (-24.855256121, -20.365128061), (-20.365128061, -20.365128061), (-20.365128061, -24.855256121), (-15.875, -20.365128061), (0, -4.490128061), (15.875, -20.365128061), (20.365128061, -24.855256121), (20.365128061, -20.365128061), (24.855256121, -20.365128061), (20.365128061, -15.875), (4.490128061, 0), (20.365128061, 15.875), (24.855256121, 20.365128061), (20.365128061, 20.365128061), align=None)
        with Locations((-15, -15)):
            Circle(SKETCH16_R, mode=Mode.SUBTRACT)
        with Locations((15, -15)):
            Circle(SKETCH16_R, mode=Mode.SUBTRACT)
        with Locations((-15, 15)):
            Circle(SKETCH16_R, mode=Mode.SUBTRACT)
        with Locations((15, 15)):
            Circle(SKETCH16_R, mode=Mode.SUBTRACT)
    extrude(amount=BOSS_EXTRUDE6_DEPTH)

    # Sketch17 → Cut-Extrude13 (cut)
    with BuildSketch(Plane(origin=(0, 26.9875, 0), x_dir=(1, 0, 0), z_dir=(0, 1, 0))):
        Polygon((-25.4, 25.4), (-29.890128061, 25.4), (-24.855256121, 20.365128061), (-20.365128061, 20.365128061), (-20.365128061, 24.855256121), (-25.4, 29.890128061), align=None)
        Polygon((20.365128061, 20.365128061), (24.855256121, 20.365128061), (29.890128061, 25.4), (25.4, 25.4), (25.4, 29.890128061), (20.365128061, 24.855256121), align=None)
        Polygon((20.365128061, -24.855256121), (25.4, -29.890128061), (25.4, -25.4), (29.890128061, -25.4), (24.855256121, -20.365128061), (20.365128061, -20.365128061), align=None)
        Polygon((-29.890128061, -25.4), (-25.4, -25.4), (-25.4, -29.890128061), (-20.365128061, -24.855256121), (-20.365128061, -20.365128061), (-24.855256121, -20.365128061), align=None)
        Polygon((-24.855256121, 20.365128061), (-29.890128061, 25.4), (-29.890128061, 20.365128061), align=None)
        Polygon((-20.365128061, 29.890128061), (-25.4, 29.890128061), (-20.365128061, 24.855256121), align=None)
        Polygon((20.365128061, 29.890128061), (20.365128061, 24.855256121), (25.4, 29.890128061), align=None)
        Polygon((29.890128061, 25.4), (24.855256121, 20.365128061), (29.890128061, 20.365128061), align=None)
        Polygon((24.855256121, -20.365128061), (29.890128061, -25.4), (29.890128061, -20.365128061), align=None)
        Polygon((20.365128061, -29.890128061), (25.4, -29.890128061), (20.365128061, -24.855256121), align=None)
        Polygon((-20.365128061, -24.855256121), (-25.4, -29.890128061), (-20.365128061, -29.890128061), align=None)
        Polygon((-29.890128061, -20.365128061), (-29.890128061, -25.4), (-24.855256121, -20.365128061), align=None)
    extrude(amount=-CUT_EXTRUDE13_DEPTH, mode=Mode.SUBTRACT)

    # Cut-Extrude15: up to this face of the body (flat: up to its plane)
    cut_extrude15_end = Plane(part.part.faces().sort_by_distance((61.668110408, 13.302359509, -25.4))[0])
    # Sketch18 → Cut-Extrude15 (cut, up to the picked face)
    with BuildSketch(Plane.XY.offset(25.4), mode=Mode.PRIVATE) as cut_extrude15_sk1:
        with BuildLine():
            add(Edge.make_bspline(
                [(-77.978, 26.9875), (-53.933199385, 9.774034089), (-29.890128061, 3.175)],
                knots=[0, 0, 0, 0.308317682, 0.308317682, 0.308317682], degree=2))
            Line((-29.890128061, 3.175), (-29.890128061, 26.9875))
            Line((-29.890128061, 26.9875), (-77.978, 26.9875))
        make_face()
    cut_extrude15_tool1 = split(extrude(cut_extrude15_sk1.sketch, amount=-CUT_EXTRUDE15_REACH, mode=Mode.PRIVATE), bisect_by=cut_extrude15_end, keep=Keep.BOTH, mode=Mode.PRIVATE)
    cut_extrude15 = cut_extrude15_tool1.solids().sort_by(Axis((-46.956117, 18.399328, 25.4), (0, 0, -1)))[0]
    add(cut_extrude15, mode=Mode.SUBTRACT)

    # Sketch20 → Cut-Extrude17 (cut, up to next)
    with BuildSketch(Plane(origin=(0, 1.5875, 0), x_dir=(1, 0, 0), z_dir=(0, 1, 0)), mode=Mode.PRIVATE) as cut_extrude17_sk1:
        with Locations((0, 97.536)):
            Rectangle(SKETCH20_W, SKETCH20_H)
    cut_extrude17_tool1 = extrude(cut_extrude17_sk1.sketch, amount=-CUT_EXTRUDE17_REACH, mode=Mode.PRIVATE) & part.part
    # Sketch20 → Cut-Extrude17 (cut, up to next)
    with BuildSketch(Plane(origin=(0, 1.5875, 0), x_dir=(1, 0, 0), z_dir=(0, 1, 0)), mode=Mode.PRIVATE) as cut_extrude17_sk2:
        with Locations((-97.536, 0)):
            Rectangle(SKETCH20_W_2, SKETCH20_H_2)
    cut_extrude17_tool2 = extrude(cut_extrude17_sk2.sketch, amount=-CUT_EXTRUDE17_REACH, mode=Mode.PRIVATE) & part.part
    # Sketch20 → Cut-Extrude17 (cut, up to next)
    with BuildSketch(Plane(origin=(0, 1.5875, 0), x_dir=(1, 0, 0), z_dir=(0, 1, 0)), mode=Mode.PRIVATE) as cut_extrude17_sk3:
        with Locations((0, -97.536)):
            Rectangle(SKETCH20_W, SKETCH20_H)
    cut_extrude17_tool3 = extrude(cut_extrude17_sk3.sketch, amount=-CUT_EXTRUDE17_REACH, mode=Mode.PRIVATE) & part.part
    # Sketch20 → Cut-Extrude17 (cut, up to next)
    with BuildSketch(Plane(origin=(0, 1.5875, 0), x_dir=(1, 0, 0), z_dir=(0, 1, 0)), mode=Mode.PRIVATE) as cut_extrude17_sk4:
        with Locations((97.536, 0)):
            Rectangle(SKETCH20_W_2, SKETCH20_H_2)
    cut_extrude17_tool4 = extrude(cut_extrude17_sk4.sketch, amount=-CUT_EXTRUDE17_REACH, mode=Mode.PRIVATE) & part.part
    add(cut_extrude17_tool1.solids().sort_by_distance((0, 1.5875, -97.536))[0], mode=Mode.SUBTRACT)
    add(cut_extrude17_tool2.solids().sort_by_distance((-97.536, 1.5875, 0))[0], mode=Mode.SUBTRACT)
    add(cut_extrude17_tool3.solids().sort_by_distance((0, 1.5875, 97.536))[0], mode=Mode.SUBTRACT)
    add(cut_extrude17_tool4.solids().sort_by_distance((97.536, 1.5875, 0))[0], mode=Mode.SUBTRACT)

    # Fillet2
    fillet2_edges = [part.edges().sort_by_distance(p)[0] for p in [
        (-25.4, 13.49375, 93.472),
        (25.4, 13.49375, 93.472),
        (93.472, 13.49375, 25.4),
        (93.472, 13.49375, -25.4),
        (25.4, 13.49375, -93.472),
        (-25.4, 13.49375, -93.472),
        (-93.472, 13.49375, -25.4),
        (-93.472, 13.49375, 25.4),
    ]]
    fillet(fillet2_edges, radius=FILLET2_R)

    # Fillet3
    fillet3_edges = [part.edges().sort_by_distance(p)[0] for p in [
        (84.328, 14.2875, -20.365128061),
        (84.328, 14.2875, 20.365128061),
        (20.365128061, 14.2875, 84.328),
        (-20.365128061, 14.2875, 84.328),
        (-84.328, 14.2875, 20.365128061),
        (-84.328, 14.2875, -20.365128061),
        (-20.365128061, 14.2875, -84.328),
        (20.365128061, 14.2875, -84.328),
    ]]
    fillet(fillet3_edges, radius=FILLET3_R)

    # Mirror1: Cut-Extrude15 across plane
    add(cut_extrude15.mirror(Plane(origin=(0, 0, 0), x_dir=(0, 0, 1), z_dir=(1, 0, 0))), mode=Mode.SUBTRACT)

    # Sketch21 → Cut-Extrude18 (cut)
    with BuildSketch(Plane.XY.offset(93.472)):
        with BuildLine():
            Line((93.472, 26.9875), (83.947, 26.9875))
            Line((83.947, 26.9875), (77.978, 26.9875))
            add(Edge.make_bspline(
                [(77.978, 26.9875), (53.933199385, 9.774034089), (29.890128061, 3.175)],
                knots=[0, 0, 0, 1, 1, 1], degree=2))
            Line((29.890128061, 3.175), (25.4, 3.175))
            Line((25.4, 3.175), (25.4, 0))
            Line((25.4, 0), (83.947, 0))
            Line((83.947, 0), (93.472, 0))
            Line((93.472, 0), (93.472, 26.9875))
        make_face()
        with BuildLine():
            Line((-83.947, 26.9875), (-93.472, 26.9875))
            Line((-93.472, 26.9875), (-93.472, 0))
            Line((-93.472, 0), (-83.947, 0))
            Line((-83.947, 0), (-25.4, 0))
            Line((-25.4, 0), (-25.4, 3.175))
            Line((-25.4, 3.175), (-29.890128061, 3.175))
            add(Edge.make_bspline(
                [(-29.890128061, 3.175), (-53.933199385, 9.774034089), (-77.978, 26.9875)],
                knots=[0, 0, 0, 1, 1, 1], degree=2))
            Line((-77.978, 26.9875), (-83.947, 26.9875))
        make_face()
    extrude(amount=-CUT_EXTRUDE18_DEPTH, mode=Mode.SUBTRACT)

    # Sketch22 → Boss-Extrude7 (add)
    with BuildSketch(Plane(origin=(0, 1.5875, 0), x_dir=(1, 0, 0), z_dir=(0, 1, 0))):
        Polygon((25.4, -20.365128061), (25.4, 20.365128061), (24.855256121, 20.365128061), (20.365128061, 15.875), (20.365128061, -15.875), (24.855256121, -20.365128061), align=None)
        Polygon((-25.4, 20.365128061), (-25.4, -20.365128061), (-24.855256121, -20.365128061), (-20.365128061, -15.875), (-20.365128061, 15.875), (-24.855256121, 20.365128061), align=None)
    extrude(amount=BOSS_EXTRUDE7_DEPTH)

    # Sketch23 → Boss-Extrude8 (add)
    with BuildSketch(Plane(origin=(0, 3.175, 0), x_dir=(1, 0, 0), z_dir=(0, 1, 0))):
        with Locations((22.88256403, 0)):
            Rectangle(SKETCH23_W, SKETCH23_H)
        with Locations((-22.88256403, 0)):
            Rectangle(SKETCH23_W, SKETCH23_H)
    extrude(amount=BOSS_EXTRUDE8_DEPTH)

    # Sketch24 → Boss-Extrude9 (add)
    with BuildSketch(Plane.ZY.offset(25.4)):
        with Locations((0, 16.66875)):
            Rectangle(SKETCH24_W, SKETCH24_H)
    extrude(amount=-BOSS_EXTRUDE9_DEPTH)

    # Sketch25 → Boss-Extrude10 (add)
    with BuildSketch(Plane(origin=(25.4, 0, 0), x_dir=(0, 0, -1), z_dir=(1, 0, 0))):
        with Locations((0, 16.66875)):
            Rectangle(SKETCH25_W, SKETCH25_H)
    extrude(amount=-BOSS_EXTRUDE10_DEPTH)

    # Sketch28 → Cut-Extrude21 (cut)
    with BuildSketch(Plane.ZY.offset(25.4).offset(CUT_EXTRUDE21_START)):
        Polygon((-80.772, 23.8125), (-80.772, 5.46568924), (-17.909436674, 23.8125), align=None)
        Polygon((-6.35, 22.225), (-71.621934564, 3.175), (-6.35, 3.175), align=None)
        Polygon((71.621934564, 3.175), (6.35, 22.225), (6.35, 3.175), align=None)
        Polygon((80.772, 23.8125), (17.909436674, 23.8125), (80.772, 5.46568924), align=None)
    cut_extrude21 = extrude(amount=CUT_EXTRUDE21_DEPTH, mode=Mode.SUBTRACT)

    # Mirror4: Cut-Extrude21 across plane
    add(cut_extrude21.mirror(Plane(origin=(0, 0, 0), x_dir=(0, 0, 1), z_dir=(1, 0, 0))), mode=Mode.SUBTRACT)


solid = part.part
